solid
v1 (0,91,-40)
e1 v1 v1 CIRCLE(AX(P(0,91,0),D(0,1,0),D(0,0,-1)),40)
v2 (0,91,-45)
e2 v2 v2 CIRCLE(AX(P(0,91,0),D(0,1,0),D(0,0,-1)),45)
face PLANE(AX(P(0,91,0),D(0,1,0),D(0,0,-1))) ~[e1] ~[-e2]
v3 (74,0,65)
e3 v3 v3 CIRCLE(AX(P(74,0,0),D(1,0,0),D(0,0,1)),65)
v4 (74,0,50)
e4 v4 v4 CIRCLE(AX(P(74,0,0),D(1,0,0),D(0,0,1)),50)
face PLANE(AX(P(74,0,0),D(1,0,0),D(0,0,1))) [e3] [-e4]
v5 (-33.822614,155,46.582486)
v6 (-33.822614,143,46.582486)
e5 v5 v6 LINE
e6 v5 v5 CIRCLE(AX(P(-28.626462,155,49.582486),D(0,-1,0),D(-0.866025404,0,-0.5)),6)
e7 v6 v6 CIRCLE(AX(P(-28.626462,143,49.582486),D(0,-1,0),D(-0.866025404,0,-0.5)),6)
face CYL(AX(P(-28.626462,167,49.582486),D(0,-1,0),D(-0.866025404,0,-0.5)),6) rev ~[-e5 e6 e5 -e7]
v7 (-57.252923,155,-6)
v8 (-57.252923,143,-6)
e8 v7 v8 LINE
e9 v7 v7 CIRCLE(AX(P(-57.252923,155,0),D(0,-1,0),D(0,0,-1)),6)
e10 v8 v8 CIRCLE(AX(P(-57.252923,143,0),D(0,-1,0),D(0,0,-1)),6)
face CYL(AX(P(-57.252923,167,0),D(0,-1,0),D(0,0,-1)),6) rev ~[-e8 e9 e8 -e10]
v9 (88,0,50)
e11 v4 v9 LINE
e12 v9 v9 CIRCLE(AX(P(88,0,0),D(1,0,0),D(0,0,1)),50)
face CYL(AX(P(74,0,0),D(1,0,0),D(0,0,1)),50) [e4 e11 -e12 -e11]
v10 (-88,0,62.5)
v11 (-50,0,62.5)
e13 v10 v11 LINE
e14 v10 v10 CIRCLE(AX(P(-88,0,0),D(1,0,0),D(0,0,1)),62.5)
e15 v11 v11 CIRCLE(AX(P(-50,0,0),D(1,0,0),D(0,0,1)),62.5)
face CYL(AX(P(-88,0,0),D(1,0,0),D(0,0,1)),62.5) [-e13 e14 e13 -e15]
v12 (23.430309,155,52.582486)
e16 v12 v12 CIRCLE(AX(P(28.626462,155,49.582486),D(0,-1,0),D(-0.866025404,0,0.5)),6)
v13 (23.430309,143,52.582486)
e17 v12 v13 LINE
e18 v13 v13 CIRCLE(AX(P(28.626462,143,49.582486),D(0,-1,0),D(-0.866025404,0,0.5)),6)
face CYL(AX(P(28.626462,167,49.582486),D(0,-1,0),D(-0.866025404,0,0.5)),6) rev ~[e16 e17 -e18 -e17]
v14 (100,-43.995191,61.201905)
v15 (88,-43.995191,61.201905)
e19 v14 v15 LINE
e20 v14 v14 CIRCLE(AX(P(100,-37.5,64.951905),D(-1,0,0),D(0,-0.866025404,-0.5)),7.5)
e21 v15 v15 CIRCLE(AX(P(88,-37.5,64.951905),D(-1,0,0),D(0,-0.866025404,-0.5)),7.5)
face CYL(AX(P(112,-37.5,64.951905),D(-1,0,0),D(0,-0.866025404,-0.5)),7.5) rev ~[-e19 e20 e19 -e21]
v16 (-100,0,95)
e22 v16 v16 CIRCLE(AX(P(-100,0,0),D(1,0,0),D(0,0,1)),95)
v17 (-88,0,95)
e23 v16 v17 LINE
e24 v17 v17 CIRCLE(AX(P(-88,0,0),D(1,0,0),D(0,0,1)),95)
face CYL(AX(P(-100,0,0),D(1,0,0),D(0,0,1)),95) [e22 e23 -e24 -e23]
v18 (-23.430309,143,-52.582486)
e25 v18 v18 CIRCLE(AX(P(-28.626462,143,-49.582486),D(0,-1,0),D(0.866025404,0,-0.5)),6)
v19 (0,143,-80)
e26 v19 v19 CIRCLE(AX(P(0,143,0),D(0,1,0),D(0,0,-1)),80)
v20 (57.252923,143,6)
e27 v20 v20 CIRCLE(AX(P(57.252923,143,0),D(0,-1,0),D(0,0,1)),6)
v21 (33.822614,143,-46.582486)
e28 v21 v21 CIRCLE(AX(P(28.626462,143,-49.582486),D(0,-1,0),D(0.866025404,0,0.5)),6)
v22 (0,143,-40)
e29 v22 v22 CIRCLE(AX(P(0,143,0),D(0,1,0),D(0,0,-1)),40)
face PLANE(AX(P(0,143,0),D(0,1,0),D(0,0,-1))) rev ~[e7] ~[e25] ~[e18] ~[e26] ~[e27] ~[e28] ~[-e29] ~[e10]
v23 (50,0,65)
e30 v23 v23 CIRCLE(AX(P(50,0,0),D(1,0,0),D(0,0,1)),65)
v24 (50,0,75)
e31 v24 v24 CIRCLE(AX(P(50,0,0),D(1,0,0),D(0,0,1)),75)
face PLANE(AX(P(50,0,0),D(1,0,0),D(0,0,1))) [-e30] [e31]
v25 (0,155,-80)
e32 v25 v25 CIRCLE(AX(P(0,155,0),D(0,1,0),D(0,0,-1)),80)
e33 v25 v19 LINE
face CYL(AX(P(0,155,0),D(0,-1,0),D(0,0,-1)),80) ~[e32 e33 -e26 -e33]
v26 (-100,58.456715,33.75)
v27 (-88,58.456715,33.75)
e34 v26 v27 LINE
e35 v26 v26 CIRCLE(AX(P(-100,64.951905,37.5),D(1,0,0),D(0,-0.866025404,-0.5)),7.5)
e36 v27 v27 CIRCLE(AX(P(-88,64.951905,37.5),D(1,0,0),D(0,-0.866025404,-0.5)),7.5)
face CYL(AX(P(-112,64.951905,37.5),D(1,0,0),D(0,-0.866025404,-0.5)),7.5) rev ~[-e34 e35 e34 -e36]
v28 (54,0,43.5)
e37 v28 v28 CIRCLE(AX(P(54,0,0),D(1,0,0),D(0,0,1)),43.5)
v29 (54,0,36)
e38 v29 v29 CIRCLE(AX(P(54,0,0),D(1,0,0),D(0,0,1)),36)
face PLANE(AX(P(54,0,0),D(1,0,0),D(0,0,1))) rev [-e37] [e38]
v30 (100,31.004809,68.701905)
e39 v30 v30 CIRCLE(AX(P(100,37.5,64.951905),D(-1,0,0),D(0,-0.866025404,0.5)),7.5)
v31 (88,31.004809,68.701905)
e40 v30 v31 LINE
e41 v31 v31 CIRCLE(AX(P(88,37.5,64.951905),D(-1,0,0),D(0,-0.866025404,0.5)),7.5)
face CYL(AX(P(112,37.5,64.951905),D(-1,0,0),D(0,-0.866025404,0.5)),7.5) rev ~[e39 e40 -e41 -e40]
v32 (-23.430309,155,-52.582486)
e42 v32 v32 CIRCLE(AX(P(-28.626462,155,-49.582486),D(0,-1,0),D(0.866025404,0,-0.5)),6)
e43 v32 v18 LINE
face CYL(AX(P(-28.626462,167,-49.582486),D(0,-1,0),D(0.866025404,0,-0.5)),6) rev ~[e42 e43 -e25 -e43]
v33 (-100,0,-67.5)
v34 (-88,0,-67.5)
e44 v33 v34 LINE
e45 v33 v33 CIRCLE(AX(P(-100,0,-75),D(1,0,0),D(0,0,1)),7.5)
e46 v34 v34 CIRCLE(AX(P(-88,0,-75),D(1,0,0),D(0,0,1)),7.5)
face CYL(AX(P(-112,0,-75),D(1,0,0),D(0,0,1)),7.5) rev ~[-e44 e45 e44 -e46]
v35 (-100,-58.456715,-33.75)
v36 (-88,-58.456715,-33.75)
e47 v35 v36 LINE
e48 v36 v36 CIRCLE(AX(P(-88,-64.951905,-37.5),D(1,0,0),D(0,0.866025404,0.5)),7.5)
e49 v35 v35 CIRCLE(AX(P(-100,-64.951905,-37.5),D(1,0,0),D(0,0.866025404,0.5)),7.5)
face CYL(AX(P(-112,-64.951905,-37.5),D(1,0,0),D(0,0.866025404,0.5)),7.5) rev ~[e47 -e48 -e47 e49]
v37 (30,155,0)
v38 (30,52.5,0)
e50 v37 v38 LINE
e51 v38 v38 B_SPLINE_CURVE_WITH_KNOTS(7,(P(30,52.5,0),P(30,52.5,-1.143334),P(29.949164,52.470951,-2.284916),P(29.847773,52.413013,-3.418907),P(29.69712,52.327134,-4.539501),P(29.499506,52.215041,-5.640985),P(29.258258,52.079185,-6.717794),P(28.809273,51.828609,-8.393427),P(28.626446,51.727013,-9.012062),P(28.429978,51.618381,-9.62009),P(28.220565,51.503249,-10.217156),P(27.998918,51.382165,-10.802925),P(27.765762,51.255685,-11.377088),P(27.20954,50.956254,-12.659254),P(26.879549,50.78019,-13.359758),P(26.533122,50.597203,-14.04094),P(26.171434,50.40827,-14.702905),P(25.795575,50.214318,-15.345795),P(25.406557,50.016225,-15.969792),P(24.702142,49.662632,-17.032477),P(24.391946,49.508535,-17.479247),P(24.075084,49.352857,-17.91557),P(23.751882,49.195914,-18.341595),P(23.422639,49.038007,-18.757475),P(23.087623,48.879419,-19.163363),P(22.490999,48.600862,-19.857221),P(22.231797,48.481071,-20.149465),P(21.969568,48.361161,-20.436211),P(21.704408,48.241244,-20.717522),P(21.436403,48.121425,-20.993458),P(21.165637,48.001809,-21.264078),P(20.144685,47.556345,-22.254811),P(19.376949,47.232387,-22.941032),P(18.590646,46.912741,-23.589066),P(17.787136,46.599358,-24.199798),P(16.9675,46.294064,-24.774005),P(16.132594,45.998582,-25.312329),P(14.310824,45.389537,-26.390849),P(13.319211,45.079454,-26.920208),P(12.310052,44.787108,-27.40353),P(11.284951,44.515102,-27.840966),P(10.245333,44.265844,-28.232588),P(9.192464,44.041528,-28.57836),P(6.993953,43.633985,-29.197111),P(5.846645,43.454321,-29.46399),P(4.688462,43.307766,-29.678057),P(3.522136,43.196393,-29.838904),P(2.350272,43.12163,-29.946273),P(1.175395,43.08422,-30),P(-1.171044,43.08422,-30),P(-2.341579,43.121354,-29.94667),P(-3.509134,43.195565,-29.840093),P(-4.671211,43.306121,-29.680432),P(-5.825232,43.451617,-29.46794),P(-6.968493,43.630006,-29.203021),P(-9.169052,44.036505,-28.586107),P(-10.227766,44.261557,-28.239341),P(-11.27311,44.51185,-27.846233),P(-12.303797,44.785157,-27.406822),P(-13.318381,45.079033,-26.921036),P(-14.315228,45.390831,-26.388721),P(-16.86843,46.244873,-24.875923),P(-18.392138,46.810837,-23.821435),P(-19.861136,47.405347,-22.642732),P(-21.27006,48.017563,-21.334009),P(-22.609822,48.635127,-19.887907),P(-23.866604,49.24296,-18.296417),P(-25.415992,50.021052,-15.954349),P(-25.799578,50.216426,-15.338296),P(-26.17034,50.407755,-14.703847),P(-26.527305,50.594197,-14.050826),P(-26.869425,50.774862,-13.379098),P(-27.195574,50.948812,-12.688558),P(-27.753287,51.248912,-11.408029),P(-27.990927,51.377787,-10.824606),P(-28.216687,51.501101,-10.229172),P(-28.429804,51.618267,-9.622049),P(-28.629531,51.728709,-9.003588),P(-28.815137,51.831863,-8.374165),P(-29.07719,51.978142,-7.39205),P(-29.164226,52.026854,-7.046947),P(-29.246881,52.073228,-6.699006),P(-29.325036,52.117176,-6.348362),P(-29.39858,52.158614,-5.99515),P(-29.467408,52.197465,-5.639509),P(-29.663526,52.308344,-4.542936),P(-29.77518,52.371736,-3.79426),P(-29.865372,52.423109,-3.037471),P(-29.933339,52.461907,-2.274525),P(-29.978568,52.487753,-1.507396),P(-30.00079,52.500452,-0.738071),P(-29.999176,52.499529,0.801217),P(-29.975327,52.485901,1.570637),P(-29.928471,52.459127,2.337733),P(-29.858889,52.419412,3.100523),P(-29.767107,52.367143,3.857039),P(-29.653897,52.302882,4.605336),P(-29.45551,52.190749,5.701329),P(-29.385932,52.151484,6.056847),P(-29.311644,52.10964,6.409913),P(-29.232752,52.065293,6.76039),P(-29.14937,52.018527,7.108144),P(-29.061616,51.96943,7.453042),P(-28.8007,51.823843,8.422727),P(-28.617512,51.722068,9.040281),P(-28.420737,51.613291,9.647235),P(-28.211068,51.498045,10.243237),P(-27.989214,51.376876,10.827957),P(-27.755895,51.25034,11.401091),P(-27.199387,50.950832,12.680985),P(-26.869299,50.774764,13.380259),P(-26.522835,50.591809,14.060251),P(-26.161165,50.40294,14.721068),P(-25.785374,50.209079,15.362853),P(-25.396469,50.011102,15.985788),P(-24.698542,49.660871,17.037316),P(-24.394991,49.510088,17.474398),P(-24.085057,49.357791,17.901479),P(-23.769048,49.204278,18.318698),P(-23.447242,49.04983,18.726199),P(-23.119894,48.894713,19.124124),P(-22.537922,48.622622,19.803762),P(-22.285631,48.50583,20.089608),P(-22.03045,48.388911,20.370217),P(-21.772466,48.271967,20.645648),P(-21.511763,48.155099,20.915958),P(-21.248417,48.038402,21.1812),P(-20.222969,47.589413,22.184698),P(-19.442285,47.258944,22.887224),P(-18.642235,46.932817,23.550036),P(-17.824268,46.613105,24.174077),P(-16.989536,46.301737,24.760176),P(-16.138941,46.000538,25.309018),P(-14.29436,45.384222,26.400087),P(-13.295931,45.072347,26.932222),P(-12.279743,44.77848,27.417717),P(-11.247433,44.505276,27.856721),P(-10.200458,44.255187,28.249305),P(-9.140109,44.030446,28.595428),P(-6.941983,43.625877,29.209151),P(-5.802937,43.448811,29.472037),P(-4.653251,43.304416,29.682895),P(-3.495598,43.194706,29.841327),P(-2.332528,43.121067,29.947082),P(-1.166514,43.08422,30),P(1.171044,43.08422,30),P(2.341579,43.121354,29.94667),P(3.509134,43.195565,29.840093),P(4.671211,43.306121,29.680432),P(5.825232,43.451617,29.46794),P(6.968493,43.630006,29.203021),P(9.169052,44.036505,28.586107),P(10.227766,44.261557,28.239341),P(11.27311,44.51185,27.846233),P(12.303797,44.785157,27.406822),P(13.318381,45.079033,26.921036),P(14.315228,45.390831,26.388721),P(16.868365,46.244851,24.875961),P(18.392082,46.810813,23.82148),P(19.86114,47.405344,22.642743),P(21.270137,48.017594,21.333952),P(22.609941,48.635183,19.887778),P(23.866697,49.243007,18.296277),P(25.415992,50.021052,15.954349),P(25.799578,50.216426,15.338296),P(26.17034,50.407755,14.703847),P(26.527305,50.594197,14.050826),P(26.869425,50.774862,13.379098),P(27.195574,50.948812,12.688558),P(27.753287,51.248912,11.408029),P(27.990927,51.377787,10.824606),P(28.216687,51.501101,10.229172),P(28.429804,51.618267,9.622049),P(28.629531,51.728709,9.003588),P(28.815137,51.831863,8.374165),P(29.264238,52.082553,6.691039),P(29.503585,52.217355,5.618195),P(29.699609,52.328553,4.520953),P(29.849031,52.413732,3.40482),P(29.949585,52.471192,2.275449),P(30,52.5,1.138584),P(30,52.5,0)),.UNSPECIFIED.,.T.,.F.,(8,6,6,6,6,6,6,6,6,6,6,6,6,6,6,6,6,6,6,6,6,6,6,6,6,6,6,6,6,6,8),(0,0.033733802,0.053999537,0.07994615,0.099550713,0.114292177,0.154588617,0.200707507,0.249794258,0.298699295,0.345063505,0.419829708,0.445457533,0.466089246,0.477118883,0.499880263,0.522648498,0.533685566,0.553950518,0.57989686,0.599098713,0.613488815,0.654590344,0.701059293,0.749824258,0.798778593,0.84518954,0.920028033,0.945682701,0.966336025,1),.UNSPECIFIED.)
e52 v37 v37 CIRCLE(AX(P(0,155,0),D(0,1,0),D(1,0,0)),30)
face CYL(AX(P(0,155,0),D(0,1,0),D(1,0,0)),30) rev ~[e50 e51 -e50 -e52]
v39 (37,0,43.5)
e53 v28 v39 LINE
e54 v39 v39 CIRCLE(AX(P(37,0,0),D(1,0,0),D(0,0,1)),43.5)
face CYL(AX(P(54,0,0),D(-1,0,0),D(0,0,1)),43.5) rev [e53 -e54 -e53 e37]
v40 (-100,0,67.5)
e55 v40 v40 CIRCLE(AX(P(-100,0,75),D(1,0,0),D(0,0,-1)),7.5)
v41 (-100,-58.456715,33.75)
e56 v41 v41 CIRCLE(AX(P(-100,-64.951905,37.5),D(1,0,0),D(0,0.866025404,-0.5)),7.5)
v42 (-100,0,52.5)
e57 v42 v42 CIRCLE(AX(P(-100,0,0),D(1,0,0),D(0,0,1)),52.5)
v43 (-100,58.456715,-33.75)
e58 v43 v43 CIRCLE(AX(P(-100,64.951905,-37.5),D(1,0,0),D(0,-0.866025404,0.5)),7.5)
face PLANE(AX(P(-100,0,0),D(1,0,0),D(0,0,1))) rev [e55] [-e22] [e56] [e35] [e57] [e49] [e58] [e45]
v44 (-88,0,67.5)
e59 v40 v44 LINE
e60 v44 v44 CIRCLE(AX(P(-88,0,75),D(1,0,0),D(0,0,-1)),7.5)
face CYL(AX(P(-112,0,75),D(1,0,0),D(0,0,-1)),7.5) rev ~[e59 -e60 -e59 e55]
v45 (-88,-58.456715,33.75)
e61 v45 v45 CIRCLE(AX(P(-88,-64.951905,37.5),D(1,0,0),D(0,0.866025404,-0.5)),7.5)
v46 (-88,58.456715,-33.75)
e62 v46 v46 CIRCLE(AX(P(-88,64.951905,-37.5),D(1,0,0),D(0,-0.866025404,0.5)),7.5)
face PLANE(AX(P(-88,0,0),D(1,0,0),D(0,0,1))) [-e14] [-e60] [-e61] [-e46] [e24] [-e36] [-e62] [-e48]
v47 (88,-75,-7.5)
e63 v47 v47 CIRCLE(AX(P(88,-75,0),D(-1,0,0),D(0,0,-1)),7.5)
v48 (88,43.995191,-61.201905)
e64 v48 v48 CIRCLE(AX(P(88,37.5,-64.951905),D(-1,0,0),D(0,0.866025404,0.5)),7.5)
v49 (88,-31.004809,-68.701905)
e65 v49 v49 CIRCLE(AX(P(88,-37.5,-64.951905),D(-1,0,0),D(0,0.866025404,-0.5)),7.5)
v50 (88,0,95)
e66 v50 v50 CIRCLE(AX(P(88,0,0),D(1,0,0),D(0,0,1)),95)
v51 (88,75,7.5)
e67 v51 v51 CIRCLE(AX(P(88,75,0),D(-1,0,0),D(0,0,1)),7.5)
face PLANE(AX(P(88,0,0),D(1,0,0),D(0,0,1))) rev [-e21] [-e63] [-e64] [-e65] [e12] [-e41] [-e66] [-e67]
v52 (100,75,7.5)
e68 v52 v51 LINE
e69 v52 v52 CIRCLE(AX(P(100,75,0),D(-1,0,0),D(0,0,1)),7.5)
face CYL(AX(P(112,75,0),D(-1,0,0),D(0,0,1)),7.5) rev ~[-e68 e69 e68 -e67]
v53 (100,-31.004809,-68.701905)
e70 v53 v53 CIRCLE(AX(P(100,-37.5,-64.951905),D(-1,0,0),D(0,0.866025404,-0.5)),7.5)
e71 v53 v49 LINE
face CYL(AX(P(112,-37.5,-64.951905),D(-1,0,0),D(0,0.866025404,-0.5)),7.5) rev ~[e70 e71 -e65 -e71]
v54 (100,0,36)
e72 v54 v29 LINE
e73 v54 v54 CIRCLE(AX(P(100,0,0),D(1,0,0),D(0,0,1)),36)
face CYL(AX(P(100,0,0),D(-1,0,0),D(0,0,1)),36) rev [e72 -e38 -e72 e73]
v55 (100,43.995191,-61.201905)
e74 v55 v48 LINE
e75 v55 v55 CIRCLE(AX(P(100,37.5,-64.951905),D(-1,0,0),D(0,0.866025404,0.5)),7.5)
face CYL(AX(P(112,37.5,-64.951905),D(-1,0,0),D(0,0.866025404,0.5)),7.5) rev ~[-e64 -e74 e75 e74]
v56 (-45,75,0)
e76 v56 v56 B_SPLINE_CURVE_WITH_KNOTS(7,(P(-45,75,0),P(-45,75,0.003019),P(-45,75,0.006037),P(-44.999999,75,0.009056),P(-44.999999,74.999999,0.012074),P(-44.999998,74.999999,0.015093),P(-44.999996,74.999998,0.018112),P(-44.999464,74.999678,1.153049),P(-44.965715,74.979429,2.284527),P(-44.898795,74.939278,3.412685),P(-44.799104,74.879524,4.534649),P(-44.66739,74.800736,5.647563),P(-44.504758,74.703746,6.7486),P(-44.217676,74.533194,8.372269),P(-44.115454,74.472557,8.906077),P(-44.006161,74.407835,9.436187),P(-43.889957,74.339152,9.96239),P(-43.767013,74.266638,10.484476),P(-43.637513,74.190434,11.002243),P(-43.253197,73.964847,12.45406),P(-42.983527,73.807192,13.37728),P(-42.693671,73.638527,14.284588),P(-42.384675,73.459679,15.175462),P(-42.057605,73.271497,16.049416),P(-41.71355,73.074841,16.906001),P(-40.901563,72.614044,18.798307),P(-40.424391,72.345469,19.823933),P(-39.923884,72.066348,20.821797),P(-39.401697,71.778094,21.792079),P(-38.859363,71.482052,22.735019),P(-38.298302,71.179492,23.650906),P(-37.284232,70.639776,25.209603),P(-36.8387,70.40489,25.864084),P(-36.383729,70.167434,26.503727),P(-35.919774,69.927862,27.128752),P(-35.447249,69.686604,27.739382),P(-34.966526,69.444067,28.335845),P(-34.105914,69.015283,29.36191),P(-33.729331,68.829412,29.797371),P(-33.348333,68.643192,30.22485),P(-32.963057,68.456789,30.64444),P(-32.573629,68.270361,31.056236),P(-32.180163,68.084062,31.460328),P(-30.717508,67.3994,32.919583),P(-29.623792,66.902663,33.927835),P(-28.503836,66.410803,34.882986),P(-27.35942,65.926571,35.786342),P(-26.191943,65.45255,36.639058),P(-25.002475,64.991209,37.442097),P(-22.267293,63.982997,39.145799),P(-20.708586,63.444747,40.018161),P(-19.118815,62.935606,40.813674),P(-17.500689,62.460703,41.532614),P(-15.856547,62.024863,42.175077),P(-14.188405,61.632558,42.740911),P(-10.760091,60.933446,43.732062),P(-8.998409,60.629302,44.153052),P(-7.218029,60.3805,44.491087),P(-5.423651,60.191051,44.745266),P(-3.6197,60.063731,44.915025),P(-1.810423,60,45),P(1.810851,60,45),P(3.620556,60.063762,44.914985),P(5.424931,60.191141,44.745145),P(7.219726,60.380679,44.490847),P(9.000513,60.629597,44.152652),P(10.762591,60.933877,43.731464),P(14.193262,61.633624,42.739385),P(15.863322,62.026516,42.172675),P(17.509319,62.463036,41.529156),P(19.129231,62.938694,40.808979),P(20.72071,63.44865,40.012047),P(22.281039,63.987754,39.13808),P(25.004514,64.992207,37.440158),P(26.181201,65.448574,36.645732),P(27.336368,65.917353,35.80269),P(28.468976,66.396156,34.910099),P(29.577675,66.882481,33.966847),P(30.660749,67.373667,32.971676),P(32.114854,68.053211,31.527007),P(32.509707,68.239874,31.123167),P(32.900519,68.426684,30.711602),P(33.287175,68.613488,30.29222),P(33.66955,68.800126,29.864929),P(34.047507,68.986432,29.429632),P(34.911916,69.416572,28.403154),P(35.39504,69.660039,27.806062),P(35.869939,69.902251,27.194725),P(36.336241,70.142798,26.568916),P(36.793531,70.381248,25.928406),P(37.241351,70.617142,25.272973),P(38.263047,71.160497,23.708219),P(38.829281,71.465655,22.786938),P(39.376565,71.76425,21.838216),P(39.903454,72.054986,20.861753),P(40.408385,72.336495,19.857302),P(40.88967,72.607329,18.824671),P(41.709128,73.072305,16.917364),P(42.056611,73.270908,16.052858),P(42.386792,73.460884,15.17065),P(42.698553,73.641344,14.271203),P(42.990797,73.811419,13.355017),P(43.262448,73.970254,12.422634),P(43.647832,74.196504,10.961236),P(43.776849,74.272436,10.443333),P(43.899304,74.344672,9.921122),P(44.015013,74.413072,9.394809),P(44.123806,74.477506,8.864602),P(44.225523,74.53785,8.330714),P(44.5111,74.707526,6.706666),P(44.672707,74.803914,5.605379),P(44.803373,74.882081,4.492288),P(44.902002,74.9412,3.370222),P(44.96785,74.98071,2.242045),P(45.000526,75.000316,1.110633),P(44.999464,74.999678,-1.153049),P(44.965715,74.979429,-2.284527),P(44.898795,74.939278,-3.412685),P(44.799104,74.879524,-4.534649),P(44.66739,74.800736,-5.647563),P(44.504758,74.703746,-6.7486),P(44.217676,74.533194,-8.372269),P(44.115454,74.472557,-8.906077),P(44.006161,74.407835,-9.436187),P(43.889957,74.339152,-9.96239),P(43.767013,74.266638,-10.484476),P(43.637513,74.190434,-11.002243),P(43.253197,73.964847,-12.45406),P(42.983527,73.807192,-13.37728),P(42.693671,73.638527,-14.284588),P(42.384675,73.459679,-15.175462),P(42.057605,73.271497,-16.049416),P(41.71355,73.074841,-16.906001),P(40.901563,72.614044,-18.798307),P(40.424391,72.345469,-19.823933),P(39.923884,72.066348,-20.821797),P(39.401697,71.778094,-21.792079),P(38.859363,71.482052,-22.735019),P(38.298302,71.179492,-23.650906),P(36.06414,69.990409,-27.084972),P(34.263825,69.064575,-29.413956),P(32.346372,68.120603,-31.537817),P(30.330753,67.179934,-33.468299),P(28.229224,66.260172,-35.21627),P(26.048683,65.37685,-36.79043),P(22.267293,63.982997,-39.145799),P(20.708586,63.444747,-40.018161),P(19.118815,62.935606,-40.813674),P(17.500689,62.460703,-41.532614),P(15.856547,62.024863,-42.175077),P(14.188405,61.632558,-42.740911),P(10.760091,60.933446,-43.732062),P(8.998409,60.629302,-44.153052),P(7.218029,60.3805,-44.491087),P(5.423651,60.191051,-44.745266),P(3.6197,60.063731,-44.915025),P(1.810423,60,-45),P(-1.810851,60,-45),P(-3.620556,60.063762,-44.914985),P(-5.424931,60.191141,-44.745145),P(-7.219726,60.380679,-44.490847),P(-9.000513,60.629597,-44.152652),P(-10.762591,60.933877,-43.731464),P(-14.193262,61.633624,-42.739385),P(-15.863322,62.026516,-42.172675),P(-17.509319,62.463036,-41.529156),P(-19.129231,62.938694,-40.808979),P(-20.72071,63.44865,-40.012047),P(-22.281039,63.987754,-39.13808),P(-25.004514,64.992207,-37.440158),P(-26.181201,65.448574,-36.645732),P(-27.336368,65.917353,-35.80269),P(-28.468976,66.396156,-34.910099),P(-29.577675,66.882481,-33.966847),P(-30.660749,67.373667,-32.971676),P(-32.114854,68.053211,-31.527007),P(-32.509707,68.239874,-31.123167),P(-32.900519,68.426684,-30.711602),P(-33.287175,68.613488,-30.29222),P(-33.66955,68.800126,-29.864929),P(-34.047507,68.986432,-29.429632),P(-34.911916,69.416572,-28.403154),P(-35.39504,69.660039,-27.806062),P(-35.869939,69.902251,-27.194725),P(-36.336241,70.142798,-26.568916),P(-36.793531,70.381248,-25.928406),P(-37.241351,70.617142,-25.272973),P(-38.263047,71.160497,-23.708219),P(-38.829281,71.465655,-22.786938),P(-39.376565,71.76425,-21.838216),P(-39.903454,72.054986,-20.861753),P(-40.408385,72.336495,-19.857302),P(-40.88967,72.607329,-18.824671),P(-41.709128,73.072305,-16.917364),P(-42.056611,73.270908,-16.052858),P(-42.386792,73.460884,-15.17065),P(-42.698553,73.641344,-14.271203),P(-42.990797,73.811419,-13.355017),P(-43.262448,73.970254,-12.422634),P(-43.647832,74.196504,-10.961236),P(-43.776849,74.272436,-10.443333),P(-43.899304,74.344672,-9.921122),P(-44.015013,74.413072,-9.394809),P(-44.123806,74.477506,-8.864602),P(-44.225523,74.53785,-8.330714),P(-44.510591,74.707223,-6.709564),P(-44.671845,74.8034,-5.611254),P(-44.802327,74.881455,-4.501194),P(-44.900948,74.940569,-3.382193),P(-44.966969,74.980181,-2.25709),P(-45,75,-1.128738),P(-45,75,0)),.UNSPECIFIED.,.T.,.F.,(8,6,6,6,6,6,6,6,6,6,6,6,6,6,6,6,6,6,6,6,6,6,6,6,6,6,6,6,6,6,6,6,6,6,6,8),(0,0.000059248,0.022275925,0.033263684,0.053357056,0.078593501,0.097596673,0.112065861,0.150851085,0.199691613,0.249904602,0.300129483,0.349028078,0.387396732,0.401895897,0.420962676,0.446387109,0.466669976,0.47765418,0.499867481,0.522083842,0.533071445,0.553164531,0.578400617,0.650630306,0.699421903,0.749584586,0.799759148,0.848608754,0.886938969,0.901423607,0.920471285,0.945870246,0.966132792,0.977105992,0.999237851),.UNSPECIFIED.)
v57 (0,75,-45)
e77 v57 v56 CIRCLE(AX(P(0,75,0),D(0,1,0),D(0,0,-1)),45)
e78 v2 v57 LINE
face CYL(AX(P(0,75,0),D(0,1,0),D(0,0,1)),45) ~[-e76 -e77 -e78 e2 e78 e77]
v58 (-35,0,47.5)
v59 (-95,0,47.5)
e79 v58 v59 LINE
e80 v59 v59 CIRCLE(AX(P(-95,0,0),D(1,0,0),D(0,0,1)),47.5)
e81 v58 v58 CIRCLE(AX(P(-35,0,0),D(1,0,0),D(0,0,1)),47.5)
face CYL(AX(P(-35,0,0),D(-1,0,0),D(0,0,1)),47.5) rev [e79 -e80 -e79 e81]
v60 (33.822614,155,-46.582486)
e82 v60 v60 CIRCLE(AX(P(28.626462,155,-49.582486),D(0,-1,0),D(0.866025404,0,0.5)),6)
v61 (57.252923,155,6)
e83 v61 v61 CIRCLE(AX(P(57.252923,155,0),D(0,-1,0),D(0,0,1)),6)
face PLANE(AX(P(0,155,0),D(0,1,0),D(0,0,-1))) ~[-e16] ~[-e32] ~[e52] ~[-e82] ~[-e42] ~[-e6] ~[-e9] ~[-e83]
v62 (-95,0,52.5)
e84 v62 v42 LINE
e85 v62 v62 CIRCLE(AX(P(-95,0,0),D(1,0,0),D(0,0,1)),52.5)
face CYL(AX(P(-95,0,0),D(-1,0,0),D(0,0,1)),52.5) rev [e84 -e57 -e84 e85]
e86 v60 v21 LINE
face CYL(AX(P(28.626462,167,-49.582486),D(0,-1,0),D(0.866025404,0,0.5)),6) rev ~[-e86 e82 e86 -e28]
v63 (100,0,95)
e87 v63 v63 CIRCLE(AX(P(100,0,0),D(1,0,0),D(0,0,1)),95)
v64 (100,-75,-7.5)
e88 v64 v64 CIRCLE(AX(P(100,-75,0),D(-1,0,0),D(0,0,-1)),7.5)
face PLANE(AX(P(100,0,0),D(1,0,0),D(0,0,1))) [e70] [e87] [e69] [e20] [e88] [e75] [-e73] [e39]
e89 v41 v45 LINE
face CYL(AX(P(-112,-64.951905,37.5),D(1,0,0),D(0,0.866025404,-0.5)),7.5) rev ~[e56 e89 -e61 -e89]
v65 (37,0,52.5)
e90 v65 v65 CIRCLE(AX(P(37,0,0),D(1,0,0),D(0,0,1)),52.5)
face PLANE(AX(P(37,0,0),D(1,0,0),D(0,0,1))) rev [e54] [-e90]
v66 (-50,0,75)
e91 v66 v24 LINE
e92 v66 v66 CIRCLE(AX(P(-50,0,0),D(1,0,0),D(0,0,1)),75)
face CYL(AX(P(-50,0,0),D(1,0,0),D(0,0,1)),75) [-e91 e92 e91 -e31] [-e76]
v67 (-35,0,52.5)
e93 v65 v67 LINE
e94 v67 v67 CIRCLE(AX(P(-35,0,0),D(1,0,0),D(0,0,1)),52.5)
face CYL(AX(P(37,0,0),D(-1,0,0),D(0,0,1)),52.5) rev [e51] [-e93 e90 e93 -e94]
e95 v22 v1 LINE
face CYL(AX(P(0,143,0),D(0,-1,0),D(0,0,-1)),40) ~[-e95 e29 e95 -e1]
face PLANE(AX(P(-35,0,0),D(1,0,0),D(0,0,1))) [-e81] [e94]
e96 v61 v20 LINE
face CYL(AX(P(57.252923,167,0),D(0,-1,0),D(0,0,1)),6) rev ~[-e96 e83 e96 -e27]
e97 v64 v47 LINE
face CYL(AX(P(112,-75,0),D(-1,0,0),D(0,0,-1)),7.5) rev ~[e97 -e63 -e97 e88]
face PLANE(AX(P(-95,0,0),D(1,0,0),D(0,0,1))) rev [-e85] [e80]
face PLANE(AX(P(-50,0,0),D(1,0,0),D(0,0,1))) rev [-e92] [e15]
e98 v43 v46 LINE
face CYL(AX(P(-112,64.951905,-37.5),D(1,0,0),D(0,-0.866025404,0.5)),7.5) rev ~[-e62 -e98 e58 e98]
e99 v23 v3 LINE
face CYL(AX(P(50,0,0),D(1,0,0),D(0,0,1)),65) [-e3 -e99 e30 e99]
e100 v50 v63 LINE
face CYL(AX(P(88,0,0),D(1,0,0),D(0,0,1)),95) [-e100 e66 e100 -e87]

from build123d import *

# Parameters (mm, degrees)
F_10_0MM_DOWEL_HOLE1_D      = 15
F_10_0MM_DOWEL_HOLE1_DEPTH  = 12
CIRPATTERN1_COUNT           = 6
F_10_0MM_DOWEL_HOLE2_D      = 15
F_10_0MM_DOWEL_HOLE2_DEPTH  = 12
CIRPATTERN2_COUNT           = 6
BOSS_EXTRUDE1_REACH         = 220.918
BOSS_EXTRUDE1_END_RADIUS    = 75
SKETCH12_R                  = 45
F_10_0MM_DOWEL_HOLE3_REACH  = 287.526
F_10_0MM_DOWEL_HOLE3_BORE_R = 30
F_12_0MM_DOWEL_HOLE1_D      = 12
F_12_0MM_DOWEL_HOLE1_DEPTH  = 12
CIRPATTERN3_COUNT           = 6


with BuildPart() as part:
    # Sketch1 → Revolve1 (revolve)
    with BuildSketch(Plane.XY, mode=Mode.PRIVATE) as revolve1_sk:
        Polygon((-100, -52.5), (-100, -95), (-88, -95), (-88, -62.5), (-50, -62.5), (-50, -75), (50, -75), (50, -65), (74, -65), (74, -50), (88, -50), (88, -95), (100, -95), (100, -36), (54, -36), (54, -43.5), (37, -43.5), (37, -52.5), (-35, -52.5), (-35, -47.5), (-95, -47.5), (-95, -52.5), align=None)
    revolve(revolve1_sk.sketch.rotate(Axis((0, 0, 0), (1, 0, 0)), 270), axis=Axis((0, 0, 0), (1, 0, 0)))

    # Ø10.0mm Dowel Hole1
    with Locations(Plane(origin=(100, 0, 0), x_dir=(0, 0, -1), z_dir=(1, 0, 0))):
        with Locations((0, 75)):
            f_10_0mm_dowel_hole1 = Hole(F_10_0MM_DOWEL_HOLE1_D / 2, depth=F_10_0MM_DOWEL_HOLE1_DEPTH)

    # CirPattern1: Ø10.0mm Dowel Hole1 ×6 about axis
    cirpattern1_axis = Axis((0, 0, 0), (1, 0, 0))
    for i in range(1, CIRPATTERN1_COUNT):
        add(f_10_0mm_dowel_hole1.rotate(cirpattern1_axis, i * 360 / CIRPATTERN1_COUNT), mode=Mode.SUBTRACT)

    # Ø10.0mm Dowel Hole2
    with Locations(Plane.ZY.offset(100)):
        with Locations((75, 0)):
            f_10_0mm_dowel_hole2 = Hole(F_10_0MM_DOWEL_HOLE2_D / 2, depth=F_10_0MM_DOWEL_HOLE2_DEPTH)

    # CirPattern2: Ø10.0mm Dowel Hole2 ×6 about axis
    cirpattern2_axis = Axis((0, 0, 0), (1, 0, 0))
    for i in range(1, CIRPATTERN2_COUNT):
        add(f_10_0mm_dowel_hole2.rotate(cirpattern2_axis, i * 360 / CIRPATTERN2_COUNT), mode=Mode.SUBTRACT)



with BuildPart() as body_2:
    # Sketch7 → Revolve3 (revolve)
    with BuildSketch(Plane.XY, mode=Mode.PRIVATE) as revolve3_sk:
        Polygon((0, 155), (80, 155), (80, 143), (40, 143), (40, 91), (45, 91), (45, 75), (0, 75), align=None)
    revolve(revolve3_sk.sketch.rotate(Axis((0, 0, 0), (0, 1, 0)), 90), axis=Axis((0, 0, 0), (0, 1, 0)))


with BuildPart() as part_1:
    add(part.part)

    add(body_2.part)  # Boss-Extrude1 merges body 2
    # Boss-Extrude1: up to this cylinder (the profile starts outside it)
    boss_extrude1_end = Plane(origin=(0, 0, 0), z_dir=(-1, 0, 0)) * Cylinder(BOSS_EXTRUDE1_END_RADIUS, 592.836, mode=Mode.PRIVATE)
    # Sketch12 → Boss-Extrude1 (add, up to the surface)
    with BuildSketch(Plane.XZ.offset(-75), mode=Mode.PRIVATE) as boss_extrude1_sk1:
        with Locations(Location((0, 0, 0), (0, 0, 90))):
            Circle(SKETCH12_R)
    boss_extrude1_tool1 = extrude(boss_extrude1_sk1.sketch, amount=BOSS_EXTRUDE1_REACH, mode=Mode.PRIVATE) - boss_extrude1_end
    add(boss_extrude1_tool1.solids().sort_by_distance((0, 75, 0))[0])
    add(boss_extrude1_tool1.solids().sort_by_distance((0, 75, 0))[1])

    # Ø10.0mm Dowel Hole3 bore → Ø10.0mm Dowel Hole3 (cut, up to next)
    with BuildSketch(Plane(origin=(0, 155, 0), x_dir=(1, 0, 0), z_dir=(0, 1, 0)), mode=Mode.PRIVATE) as f_10_0mm_dowel_hole3_sk1:
        Circle(F_10_0MM_DOWEL_HOLE3_BORE_R)
    f_10_0mm_dowel_hole3_tool1 = extrude(f_10_0mm_dowel_hole3_sk1.sketch, amount=-F_10_0MM_DOWEL_HOLE3_REACH, mode=Mode.PRIVATE) & part_1.part
    add(f_10_0mm_dowel_hole3_tool1.solids().sort_by_distance((0, 155, 0))[0], mode=Mode.SUBTRACT)

    # Ø12.0mm Dowel Hole1
    with Locations(Plane(origin=(-57.25292317, 155, 0), x_dir=(0, 0, 1), z_dir=(0, 1, 0))):
        with Locations((0, 0)):
            f_12_0mm_dowel_hole1 = Hole(F_12_0MM_DOWEL_HOLE1_D / 2, depth=F_12_0MM_DOWEL_HOLE1_DEPTH)

    # CirPattern3: Ø12.0mm Dowel Hole1 ×6 about axis
    cirpattern3_axis = Axis((0, 0, 0), (0, 1, 0))
    for i in range(1, CIRPATTERN3_COUNT):
        add(f_12_0mm_dowel_hole1.rotate(cirpattern3_axis, i * 360 / CIRPATTERN3_COUNT), mode=Mode.SUBTRACT)


solid = part_1.part
